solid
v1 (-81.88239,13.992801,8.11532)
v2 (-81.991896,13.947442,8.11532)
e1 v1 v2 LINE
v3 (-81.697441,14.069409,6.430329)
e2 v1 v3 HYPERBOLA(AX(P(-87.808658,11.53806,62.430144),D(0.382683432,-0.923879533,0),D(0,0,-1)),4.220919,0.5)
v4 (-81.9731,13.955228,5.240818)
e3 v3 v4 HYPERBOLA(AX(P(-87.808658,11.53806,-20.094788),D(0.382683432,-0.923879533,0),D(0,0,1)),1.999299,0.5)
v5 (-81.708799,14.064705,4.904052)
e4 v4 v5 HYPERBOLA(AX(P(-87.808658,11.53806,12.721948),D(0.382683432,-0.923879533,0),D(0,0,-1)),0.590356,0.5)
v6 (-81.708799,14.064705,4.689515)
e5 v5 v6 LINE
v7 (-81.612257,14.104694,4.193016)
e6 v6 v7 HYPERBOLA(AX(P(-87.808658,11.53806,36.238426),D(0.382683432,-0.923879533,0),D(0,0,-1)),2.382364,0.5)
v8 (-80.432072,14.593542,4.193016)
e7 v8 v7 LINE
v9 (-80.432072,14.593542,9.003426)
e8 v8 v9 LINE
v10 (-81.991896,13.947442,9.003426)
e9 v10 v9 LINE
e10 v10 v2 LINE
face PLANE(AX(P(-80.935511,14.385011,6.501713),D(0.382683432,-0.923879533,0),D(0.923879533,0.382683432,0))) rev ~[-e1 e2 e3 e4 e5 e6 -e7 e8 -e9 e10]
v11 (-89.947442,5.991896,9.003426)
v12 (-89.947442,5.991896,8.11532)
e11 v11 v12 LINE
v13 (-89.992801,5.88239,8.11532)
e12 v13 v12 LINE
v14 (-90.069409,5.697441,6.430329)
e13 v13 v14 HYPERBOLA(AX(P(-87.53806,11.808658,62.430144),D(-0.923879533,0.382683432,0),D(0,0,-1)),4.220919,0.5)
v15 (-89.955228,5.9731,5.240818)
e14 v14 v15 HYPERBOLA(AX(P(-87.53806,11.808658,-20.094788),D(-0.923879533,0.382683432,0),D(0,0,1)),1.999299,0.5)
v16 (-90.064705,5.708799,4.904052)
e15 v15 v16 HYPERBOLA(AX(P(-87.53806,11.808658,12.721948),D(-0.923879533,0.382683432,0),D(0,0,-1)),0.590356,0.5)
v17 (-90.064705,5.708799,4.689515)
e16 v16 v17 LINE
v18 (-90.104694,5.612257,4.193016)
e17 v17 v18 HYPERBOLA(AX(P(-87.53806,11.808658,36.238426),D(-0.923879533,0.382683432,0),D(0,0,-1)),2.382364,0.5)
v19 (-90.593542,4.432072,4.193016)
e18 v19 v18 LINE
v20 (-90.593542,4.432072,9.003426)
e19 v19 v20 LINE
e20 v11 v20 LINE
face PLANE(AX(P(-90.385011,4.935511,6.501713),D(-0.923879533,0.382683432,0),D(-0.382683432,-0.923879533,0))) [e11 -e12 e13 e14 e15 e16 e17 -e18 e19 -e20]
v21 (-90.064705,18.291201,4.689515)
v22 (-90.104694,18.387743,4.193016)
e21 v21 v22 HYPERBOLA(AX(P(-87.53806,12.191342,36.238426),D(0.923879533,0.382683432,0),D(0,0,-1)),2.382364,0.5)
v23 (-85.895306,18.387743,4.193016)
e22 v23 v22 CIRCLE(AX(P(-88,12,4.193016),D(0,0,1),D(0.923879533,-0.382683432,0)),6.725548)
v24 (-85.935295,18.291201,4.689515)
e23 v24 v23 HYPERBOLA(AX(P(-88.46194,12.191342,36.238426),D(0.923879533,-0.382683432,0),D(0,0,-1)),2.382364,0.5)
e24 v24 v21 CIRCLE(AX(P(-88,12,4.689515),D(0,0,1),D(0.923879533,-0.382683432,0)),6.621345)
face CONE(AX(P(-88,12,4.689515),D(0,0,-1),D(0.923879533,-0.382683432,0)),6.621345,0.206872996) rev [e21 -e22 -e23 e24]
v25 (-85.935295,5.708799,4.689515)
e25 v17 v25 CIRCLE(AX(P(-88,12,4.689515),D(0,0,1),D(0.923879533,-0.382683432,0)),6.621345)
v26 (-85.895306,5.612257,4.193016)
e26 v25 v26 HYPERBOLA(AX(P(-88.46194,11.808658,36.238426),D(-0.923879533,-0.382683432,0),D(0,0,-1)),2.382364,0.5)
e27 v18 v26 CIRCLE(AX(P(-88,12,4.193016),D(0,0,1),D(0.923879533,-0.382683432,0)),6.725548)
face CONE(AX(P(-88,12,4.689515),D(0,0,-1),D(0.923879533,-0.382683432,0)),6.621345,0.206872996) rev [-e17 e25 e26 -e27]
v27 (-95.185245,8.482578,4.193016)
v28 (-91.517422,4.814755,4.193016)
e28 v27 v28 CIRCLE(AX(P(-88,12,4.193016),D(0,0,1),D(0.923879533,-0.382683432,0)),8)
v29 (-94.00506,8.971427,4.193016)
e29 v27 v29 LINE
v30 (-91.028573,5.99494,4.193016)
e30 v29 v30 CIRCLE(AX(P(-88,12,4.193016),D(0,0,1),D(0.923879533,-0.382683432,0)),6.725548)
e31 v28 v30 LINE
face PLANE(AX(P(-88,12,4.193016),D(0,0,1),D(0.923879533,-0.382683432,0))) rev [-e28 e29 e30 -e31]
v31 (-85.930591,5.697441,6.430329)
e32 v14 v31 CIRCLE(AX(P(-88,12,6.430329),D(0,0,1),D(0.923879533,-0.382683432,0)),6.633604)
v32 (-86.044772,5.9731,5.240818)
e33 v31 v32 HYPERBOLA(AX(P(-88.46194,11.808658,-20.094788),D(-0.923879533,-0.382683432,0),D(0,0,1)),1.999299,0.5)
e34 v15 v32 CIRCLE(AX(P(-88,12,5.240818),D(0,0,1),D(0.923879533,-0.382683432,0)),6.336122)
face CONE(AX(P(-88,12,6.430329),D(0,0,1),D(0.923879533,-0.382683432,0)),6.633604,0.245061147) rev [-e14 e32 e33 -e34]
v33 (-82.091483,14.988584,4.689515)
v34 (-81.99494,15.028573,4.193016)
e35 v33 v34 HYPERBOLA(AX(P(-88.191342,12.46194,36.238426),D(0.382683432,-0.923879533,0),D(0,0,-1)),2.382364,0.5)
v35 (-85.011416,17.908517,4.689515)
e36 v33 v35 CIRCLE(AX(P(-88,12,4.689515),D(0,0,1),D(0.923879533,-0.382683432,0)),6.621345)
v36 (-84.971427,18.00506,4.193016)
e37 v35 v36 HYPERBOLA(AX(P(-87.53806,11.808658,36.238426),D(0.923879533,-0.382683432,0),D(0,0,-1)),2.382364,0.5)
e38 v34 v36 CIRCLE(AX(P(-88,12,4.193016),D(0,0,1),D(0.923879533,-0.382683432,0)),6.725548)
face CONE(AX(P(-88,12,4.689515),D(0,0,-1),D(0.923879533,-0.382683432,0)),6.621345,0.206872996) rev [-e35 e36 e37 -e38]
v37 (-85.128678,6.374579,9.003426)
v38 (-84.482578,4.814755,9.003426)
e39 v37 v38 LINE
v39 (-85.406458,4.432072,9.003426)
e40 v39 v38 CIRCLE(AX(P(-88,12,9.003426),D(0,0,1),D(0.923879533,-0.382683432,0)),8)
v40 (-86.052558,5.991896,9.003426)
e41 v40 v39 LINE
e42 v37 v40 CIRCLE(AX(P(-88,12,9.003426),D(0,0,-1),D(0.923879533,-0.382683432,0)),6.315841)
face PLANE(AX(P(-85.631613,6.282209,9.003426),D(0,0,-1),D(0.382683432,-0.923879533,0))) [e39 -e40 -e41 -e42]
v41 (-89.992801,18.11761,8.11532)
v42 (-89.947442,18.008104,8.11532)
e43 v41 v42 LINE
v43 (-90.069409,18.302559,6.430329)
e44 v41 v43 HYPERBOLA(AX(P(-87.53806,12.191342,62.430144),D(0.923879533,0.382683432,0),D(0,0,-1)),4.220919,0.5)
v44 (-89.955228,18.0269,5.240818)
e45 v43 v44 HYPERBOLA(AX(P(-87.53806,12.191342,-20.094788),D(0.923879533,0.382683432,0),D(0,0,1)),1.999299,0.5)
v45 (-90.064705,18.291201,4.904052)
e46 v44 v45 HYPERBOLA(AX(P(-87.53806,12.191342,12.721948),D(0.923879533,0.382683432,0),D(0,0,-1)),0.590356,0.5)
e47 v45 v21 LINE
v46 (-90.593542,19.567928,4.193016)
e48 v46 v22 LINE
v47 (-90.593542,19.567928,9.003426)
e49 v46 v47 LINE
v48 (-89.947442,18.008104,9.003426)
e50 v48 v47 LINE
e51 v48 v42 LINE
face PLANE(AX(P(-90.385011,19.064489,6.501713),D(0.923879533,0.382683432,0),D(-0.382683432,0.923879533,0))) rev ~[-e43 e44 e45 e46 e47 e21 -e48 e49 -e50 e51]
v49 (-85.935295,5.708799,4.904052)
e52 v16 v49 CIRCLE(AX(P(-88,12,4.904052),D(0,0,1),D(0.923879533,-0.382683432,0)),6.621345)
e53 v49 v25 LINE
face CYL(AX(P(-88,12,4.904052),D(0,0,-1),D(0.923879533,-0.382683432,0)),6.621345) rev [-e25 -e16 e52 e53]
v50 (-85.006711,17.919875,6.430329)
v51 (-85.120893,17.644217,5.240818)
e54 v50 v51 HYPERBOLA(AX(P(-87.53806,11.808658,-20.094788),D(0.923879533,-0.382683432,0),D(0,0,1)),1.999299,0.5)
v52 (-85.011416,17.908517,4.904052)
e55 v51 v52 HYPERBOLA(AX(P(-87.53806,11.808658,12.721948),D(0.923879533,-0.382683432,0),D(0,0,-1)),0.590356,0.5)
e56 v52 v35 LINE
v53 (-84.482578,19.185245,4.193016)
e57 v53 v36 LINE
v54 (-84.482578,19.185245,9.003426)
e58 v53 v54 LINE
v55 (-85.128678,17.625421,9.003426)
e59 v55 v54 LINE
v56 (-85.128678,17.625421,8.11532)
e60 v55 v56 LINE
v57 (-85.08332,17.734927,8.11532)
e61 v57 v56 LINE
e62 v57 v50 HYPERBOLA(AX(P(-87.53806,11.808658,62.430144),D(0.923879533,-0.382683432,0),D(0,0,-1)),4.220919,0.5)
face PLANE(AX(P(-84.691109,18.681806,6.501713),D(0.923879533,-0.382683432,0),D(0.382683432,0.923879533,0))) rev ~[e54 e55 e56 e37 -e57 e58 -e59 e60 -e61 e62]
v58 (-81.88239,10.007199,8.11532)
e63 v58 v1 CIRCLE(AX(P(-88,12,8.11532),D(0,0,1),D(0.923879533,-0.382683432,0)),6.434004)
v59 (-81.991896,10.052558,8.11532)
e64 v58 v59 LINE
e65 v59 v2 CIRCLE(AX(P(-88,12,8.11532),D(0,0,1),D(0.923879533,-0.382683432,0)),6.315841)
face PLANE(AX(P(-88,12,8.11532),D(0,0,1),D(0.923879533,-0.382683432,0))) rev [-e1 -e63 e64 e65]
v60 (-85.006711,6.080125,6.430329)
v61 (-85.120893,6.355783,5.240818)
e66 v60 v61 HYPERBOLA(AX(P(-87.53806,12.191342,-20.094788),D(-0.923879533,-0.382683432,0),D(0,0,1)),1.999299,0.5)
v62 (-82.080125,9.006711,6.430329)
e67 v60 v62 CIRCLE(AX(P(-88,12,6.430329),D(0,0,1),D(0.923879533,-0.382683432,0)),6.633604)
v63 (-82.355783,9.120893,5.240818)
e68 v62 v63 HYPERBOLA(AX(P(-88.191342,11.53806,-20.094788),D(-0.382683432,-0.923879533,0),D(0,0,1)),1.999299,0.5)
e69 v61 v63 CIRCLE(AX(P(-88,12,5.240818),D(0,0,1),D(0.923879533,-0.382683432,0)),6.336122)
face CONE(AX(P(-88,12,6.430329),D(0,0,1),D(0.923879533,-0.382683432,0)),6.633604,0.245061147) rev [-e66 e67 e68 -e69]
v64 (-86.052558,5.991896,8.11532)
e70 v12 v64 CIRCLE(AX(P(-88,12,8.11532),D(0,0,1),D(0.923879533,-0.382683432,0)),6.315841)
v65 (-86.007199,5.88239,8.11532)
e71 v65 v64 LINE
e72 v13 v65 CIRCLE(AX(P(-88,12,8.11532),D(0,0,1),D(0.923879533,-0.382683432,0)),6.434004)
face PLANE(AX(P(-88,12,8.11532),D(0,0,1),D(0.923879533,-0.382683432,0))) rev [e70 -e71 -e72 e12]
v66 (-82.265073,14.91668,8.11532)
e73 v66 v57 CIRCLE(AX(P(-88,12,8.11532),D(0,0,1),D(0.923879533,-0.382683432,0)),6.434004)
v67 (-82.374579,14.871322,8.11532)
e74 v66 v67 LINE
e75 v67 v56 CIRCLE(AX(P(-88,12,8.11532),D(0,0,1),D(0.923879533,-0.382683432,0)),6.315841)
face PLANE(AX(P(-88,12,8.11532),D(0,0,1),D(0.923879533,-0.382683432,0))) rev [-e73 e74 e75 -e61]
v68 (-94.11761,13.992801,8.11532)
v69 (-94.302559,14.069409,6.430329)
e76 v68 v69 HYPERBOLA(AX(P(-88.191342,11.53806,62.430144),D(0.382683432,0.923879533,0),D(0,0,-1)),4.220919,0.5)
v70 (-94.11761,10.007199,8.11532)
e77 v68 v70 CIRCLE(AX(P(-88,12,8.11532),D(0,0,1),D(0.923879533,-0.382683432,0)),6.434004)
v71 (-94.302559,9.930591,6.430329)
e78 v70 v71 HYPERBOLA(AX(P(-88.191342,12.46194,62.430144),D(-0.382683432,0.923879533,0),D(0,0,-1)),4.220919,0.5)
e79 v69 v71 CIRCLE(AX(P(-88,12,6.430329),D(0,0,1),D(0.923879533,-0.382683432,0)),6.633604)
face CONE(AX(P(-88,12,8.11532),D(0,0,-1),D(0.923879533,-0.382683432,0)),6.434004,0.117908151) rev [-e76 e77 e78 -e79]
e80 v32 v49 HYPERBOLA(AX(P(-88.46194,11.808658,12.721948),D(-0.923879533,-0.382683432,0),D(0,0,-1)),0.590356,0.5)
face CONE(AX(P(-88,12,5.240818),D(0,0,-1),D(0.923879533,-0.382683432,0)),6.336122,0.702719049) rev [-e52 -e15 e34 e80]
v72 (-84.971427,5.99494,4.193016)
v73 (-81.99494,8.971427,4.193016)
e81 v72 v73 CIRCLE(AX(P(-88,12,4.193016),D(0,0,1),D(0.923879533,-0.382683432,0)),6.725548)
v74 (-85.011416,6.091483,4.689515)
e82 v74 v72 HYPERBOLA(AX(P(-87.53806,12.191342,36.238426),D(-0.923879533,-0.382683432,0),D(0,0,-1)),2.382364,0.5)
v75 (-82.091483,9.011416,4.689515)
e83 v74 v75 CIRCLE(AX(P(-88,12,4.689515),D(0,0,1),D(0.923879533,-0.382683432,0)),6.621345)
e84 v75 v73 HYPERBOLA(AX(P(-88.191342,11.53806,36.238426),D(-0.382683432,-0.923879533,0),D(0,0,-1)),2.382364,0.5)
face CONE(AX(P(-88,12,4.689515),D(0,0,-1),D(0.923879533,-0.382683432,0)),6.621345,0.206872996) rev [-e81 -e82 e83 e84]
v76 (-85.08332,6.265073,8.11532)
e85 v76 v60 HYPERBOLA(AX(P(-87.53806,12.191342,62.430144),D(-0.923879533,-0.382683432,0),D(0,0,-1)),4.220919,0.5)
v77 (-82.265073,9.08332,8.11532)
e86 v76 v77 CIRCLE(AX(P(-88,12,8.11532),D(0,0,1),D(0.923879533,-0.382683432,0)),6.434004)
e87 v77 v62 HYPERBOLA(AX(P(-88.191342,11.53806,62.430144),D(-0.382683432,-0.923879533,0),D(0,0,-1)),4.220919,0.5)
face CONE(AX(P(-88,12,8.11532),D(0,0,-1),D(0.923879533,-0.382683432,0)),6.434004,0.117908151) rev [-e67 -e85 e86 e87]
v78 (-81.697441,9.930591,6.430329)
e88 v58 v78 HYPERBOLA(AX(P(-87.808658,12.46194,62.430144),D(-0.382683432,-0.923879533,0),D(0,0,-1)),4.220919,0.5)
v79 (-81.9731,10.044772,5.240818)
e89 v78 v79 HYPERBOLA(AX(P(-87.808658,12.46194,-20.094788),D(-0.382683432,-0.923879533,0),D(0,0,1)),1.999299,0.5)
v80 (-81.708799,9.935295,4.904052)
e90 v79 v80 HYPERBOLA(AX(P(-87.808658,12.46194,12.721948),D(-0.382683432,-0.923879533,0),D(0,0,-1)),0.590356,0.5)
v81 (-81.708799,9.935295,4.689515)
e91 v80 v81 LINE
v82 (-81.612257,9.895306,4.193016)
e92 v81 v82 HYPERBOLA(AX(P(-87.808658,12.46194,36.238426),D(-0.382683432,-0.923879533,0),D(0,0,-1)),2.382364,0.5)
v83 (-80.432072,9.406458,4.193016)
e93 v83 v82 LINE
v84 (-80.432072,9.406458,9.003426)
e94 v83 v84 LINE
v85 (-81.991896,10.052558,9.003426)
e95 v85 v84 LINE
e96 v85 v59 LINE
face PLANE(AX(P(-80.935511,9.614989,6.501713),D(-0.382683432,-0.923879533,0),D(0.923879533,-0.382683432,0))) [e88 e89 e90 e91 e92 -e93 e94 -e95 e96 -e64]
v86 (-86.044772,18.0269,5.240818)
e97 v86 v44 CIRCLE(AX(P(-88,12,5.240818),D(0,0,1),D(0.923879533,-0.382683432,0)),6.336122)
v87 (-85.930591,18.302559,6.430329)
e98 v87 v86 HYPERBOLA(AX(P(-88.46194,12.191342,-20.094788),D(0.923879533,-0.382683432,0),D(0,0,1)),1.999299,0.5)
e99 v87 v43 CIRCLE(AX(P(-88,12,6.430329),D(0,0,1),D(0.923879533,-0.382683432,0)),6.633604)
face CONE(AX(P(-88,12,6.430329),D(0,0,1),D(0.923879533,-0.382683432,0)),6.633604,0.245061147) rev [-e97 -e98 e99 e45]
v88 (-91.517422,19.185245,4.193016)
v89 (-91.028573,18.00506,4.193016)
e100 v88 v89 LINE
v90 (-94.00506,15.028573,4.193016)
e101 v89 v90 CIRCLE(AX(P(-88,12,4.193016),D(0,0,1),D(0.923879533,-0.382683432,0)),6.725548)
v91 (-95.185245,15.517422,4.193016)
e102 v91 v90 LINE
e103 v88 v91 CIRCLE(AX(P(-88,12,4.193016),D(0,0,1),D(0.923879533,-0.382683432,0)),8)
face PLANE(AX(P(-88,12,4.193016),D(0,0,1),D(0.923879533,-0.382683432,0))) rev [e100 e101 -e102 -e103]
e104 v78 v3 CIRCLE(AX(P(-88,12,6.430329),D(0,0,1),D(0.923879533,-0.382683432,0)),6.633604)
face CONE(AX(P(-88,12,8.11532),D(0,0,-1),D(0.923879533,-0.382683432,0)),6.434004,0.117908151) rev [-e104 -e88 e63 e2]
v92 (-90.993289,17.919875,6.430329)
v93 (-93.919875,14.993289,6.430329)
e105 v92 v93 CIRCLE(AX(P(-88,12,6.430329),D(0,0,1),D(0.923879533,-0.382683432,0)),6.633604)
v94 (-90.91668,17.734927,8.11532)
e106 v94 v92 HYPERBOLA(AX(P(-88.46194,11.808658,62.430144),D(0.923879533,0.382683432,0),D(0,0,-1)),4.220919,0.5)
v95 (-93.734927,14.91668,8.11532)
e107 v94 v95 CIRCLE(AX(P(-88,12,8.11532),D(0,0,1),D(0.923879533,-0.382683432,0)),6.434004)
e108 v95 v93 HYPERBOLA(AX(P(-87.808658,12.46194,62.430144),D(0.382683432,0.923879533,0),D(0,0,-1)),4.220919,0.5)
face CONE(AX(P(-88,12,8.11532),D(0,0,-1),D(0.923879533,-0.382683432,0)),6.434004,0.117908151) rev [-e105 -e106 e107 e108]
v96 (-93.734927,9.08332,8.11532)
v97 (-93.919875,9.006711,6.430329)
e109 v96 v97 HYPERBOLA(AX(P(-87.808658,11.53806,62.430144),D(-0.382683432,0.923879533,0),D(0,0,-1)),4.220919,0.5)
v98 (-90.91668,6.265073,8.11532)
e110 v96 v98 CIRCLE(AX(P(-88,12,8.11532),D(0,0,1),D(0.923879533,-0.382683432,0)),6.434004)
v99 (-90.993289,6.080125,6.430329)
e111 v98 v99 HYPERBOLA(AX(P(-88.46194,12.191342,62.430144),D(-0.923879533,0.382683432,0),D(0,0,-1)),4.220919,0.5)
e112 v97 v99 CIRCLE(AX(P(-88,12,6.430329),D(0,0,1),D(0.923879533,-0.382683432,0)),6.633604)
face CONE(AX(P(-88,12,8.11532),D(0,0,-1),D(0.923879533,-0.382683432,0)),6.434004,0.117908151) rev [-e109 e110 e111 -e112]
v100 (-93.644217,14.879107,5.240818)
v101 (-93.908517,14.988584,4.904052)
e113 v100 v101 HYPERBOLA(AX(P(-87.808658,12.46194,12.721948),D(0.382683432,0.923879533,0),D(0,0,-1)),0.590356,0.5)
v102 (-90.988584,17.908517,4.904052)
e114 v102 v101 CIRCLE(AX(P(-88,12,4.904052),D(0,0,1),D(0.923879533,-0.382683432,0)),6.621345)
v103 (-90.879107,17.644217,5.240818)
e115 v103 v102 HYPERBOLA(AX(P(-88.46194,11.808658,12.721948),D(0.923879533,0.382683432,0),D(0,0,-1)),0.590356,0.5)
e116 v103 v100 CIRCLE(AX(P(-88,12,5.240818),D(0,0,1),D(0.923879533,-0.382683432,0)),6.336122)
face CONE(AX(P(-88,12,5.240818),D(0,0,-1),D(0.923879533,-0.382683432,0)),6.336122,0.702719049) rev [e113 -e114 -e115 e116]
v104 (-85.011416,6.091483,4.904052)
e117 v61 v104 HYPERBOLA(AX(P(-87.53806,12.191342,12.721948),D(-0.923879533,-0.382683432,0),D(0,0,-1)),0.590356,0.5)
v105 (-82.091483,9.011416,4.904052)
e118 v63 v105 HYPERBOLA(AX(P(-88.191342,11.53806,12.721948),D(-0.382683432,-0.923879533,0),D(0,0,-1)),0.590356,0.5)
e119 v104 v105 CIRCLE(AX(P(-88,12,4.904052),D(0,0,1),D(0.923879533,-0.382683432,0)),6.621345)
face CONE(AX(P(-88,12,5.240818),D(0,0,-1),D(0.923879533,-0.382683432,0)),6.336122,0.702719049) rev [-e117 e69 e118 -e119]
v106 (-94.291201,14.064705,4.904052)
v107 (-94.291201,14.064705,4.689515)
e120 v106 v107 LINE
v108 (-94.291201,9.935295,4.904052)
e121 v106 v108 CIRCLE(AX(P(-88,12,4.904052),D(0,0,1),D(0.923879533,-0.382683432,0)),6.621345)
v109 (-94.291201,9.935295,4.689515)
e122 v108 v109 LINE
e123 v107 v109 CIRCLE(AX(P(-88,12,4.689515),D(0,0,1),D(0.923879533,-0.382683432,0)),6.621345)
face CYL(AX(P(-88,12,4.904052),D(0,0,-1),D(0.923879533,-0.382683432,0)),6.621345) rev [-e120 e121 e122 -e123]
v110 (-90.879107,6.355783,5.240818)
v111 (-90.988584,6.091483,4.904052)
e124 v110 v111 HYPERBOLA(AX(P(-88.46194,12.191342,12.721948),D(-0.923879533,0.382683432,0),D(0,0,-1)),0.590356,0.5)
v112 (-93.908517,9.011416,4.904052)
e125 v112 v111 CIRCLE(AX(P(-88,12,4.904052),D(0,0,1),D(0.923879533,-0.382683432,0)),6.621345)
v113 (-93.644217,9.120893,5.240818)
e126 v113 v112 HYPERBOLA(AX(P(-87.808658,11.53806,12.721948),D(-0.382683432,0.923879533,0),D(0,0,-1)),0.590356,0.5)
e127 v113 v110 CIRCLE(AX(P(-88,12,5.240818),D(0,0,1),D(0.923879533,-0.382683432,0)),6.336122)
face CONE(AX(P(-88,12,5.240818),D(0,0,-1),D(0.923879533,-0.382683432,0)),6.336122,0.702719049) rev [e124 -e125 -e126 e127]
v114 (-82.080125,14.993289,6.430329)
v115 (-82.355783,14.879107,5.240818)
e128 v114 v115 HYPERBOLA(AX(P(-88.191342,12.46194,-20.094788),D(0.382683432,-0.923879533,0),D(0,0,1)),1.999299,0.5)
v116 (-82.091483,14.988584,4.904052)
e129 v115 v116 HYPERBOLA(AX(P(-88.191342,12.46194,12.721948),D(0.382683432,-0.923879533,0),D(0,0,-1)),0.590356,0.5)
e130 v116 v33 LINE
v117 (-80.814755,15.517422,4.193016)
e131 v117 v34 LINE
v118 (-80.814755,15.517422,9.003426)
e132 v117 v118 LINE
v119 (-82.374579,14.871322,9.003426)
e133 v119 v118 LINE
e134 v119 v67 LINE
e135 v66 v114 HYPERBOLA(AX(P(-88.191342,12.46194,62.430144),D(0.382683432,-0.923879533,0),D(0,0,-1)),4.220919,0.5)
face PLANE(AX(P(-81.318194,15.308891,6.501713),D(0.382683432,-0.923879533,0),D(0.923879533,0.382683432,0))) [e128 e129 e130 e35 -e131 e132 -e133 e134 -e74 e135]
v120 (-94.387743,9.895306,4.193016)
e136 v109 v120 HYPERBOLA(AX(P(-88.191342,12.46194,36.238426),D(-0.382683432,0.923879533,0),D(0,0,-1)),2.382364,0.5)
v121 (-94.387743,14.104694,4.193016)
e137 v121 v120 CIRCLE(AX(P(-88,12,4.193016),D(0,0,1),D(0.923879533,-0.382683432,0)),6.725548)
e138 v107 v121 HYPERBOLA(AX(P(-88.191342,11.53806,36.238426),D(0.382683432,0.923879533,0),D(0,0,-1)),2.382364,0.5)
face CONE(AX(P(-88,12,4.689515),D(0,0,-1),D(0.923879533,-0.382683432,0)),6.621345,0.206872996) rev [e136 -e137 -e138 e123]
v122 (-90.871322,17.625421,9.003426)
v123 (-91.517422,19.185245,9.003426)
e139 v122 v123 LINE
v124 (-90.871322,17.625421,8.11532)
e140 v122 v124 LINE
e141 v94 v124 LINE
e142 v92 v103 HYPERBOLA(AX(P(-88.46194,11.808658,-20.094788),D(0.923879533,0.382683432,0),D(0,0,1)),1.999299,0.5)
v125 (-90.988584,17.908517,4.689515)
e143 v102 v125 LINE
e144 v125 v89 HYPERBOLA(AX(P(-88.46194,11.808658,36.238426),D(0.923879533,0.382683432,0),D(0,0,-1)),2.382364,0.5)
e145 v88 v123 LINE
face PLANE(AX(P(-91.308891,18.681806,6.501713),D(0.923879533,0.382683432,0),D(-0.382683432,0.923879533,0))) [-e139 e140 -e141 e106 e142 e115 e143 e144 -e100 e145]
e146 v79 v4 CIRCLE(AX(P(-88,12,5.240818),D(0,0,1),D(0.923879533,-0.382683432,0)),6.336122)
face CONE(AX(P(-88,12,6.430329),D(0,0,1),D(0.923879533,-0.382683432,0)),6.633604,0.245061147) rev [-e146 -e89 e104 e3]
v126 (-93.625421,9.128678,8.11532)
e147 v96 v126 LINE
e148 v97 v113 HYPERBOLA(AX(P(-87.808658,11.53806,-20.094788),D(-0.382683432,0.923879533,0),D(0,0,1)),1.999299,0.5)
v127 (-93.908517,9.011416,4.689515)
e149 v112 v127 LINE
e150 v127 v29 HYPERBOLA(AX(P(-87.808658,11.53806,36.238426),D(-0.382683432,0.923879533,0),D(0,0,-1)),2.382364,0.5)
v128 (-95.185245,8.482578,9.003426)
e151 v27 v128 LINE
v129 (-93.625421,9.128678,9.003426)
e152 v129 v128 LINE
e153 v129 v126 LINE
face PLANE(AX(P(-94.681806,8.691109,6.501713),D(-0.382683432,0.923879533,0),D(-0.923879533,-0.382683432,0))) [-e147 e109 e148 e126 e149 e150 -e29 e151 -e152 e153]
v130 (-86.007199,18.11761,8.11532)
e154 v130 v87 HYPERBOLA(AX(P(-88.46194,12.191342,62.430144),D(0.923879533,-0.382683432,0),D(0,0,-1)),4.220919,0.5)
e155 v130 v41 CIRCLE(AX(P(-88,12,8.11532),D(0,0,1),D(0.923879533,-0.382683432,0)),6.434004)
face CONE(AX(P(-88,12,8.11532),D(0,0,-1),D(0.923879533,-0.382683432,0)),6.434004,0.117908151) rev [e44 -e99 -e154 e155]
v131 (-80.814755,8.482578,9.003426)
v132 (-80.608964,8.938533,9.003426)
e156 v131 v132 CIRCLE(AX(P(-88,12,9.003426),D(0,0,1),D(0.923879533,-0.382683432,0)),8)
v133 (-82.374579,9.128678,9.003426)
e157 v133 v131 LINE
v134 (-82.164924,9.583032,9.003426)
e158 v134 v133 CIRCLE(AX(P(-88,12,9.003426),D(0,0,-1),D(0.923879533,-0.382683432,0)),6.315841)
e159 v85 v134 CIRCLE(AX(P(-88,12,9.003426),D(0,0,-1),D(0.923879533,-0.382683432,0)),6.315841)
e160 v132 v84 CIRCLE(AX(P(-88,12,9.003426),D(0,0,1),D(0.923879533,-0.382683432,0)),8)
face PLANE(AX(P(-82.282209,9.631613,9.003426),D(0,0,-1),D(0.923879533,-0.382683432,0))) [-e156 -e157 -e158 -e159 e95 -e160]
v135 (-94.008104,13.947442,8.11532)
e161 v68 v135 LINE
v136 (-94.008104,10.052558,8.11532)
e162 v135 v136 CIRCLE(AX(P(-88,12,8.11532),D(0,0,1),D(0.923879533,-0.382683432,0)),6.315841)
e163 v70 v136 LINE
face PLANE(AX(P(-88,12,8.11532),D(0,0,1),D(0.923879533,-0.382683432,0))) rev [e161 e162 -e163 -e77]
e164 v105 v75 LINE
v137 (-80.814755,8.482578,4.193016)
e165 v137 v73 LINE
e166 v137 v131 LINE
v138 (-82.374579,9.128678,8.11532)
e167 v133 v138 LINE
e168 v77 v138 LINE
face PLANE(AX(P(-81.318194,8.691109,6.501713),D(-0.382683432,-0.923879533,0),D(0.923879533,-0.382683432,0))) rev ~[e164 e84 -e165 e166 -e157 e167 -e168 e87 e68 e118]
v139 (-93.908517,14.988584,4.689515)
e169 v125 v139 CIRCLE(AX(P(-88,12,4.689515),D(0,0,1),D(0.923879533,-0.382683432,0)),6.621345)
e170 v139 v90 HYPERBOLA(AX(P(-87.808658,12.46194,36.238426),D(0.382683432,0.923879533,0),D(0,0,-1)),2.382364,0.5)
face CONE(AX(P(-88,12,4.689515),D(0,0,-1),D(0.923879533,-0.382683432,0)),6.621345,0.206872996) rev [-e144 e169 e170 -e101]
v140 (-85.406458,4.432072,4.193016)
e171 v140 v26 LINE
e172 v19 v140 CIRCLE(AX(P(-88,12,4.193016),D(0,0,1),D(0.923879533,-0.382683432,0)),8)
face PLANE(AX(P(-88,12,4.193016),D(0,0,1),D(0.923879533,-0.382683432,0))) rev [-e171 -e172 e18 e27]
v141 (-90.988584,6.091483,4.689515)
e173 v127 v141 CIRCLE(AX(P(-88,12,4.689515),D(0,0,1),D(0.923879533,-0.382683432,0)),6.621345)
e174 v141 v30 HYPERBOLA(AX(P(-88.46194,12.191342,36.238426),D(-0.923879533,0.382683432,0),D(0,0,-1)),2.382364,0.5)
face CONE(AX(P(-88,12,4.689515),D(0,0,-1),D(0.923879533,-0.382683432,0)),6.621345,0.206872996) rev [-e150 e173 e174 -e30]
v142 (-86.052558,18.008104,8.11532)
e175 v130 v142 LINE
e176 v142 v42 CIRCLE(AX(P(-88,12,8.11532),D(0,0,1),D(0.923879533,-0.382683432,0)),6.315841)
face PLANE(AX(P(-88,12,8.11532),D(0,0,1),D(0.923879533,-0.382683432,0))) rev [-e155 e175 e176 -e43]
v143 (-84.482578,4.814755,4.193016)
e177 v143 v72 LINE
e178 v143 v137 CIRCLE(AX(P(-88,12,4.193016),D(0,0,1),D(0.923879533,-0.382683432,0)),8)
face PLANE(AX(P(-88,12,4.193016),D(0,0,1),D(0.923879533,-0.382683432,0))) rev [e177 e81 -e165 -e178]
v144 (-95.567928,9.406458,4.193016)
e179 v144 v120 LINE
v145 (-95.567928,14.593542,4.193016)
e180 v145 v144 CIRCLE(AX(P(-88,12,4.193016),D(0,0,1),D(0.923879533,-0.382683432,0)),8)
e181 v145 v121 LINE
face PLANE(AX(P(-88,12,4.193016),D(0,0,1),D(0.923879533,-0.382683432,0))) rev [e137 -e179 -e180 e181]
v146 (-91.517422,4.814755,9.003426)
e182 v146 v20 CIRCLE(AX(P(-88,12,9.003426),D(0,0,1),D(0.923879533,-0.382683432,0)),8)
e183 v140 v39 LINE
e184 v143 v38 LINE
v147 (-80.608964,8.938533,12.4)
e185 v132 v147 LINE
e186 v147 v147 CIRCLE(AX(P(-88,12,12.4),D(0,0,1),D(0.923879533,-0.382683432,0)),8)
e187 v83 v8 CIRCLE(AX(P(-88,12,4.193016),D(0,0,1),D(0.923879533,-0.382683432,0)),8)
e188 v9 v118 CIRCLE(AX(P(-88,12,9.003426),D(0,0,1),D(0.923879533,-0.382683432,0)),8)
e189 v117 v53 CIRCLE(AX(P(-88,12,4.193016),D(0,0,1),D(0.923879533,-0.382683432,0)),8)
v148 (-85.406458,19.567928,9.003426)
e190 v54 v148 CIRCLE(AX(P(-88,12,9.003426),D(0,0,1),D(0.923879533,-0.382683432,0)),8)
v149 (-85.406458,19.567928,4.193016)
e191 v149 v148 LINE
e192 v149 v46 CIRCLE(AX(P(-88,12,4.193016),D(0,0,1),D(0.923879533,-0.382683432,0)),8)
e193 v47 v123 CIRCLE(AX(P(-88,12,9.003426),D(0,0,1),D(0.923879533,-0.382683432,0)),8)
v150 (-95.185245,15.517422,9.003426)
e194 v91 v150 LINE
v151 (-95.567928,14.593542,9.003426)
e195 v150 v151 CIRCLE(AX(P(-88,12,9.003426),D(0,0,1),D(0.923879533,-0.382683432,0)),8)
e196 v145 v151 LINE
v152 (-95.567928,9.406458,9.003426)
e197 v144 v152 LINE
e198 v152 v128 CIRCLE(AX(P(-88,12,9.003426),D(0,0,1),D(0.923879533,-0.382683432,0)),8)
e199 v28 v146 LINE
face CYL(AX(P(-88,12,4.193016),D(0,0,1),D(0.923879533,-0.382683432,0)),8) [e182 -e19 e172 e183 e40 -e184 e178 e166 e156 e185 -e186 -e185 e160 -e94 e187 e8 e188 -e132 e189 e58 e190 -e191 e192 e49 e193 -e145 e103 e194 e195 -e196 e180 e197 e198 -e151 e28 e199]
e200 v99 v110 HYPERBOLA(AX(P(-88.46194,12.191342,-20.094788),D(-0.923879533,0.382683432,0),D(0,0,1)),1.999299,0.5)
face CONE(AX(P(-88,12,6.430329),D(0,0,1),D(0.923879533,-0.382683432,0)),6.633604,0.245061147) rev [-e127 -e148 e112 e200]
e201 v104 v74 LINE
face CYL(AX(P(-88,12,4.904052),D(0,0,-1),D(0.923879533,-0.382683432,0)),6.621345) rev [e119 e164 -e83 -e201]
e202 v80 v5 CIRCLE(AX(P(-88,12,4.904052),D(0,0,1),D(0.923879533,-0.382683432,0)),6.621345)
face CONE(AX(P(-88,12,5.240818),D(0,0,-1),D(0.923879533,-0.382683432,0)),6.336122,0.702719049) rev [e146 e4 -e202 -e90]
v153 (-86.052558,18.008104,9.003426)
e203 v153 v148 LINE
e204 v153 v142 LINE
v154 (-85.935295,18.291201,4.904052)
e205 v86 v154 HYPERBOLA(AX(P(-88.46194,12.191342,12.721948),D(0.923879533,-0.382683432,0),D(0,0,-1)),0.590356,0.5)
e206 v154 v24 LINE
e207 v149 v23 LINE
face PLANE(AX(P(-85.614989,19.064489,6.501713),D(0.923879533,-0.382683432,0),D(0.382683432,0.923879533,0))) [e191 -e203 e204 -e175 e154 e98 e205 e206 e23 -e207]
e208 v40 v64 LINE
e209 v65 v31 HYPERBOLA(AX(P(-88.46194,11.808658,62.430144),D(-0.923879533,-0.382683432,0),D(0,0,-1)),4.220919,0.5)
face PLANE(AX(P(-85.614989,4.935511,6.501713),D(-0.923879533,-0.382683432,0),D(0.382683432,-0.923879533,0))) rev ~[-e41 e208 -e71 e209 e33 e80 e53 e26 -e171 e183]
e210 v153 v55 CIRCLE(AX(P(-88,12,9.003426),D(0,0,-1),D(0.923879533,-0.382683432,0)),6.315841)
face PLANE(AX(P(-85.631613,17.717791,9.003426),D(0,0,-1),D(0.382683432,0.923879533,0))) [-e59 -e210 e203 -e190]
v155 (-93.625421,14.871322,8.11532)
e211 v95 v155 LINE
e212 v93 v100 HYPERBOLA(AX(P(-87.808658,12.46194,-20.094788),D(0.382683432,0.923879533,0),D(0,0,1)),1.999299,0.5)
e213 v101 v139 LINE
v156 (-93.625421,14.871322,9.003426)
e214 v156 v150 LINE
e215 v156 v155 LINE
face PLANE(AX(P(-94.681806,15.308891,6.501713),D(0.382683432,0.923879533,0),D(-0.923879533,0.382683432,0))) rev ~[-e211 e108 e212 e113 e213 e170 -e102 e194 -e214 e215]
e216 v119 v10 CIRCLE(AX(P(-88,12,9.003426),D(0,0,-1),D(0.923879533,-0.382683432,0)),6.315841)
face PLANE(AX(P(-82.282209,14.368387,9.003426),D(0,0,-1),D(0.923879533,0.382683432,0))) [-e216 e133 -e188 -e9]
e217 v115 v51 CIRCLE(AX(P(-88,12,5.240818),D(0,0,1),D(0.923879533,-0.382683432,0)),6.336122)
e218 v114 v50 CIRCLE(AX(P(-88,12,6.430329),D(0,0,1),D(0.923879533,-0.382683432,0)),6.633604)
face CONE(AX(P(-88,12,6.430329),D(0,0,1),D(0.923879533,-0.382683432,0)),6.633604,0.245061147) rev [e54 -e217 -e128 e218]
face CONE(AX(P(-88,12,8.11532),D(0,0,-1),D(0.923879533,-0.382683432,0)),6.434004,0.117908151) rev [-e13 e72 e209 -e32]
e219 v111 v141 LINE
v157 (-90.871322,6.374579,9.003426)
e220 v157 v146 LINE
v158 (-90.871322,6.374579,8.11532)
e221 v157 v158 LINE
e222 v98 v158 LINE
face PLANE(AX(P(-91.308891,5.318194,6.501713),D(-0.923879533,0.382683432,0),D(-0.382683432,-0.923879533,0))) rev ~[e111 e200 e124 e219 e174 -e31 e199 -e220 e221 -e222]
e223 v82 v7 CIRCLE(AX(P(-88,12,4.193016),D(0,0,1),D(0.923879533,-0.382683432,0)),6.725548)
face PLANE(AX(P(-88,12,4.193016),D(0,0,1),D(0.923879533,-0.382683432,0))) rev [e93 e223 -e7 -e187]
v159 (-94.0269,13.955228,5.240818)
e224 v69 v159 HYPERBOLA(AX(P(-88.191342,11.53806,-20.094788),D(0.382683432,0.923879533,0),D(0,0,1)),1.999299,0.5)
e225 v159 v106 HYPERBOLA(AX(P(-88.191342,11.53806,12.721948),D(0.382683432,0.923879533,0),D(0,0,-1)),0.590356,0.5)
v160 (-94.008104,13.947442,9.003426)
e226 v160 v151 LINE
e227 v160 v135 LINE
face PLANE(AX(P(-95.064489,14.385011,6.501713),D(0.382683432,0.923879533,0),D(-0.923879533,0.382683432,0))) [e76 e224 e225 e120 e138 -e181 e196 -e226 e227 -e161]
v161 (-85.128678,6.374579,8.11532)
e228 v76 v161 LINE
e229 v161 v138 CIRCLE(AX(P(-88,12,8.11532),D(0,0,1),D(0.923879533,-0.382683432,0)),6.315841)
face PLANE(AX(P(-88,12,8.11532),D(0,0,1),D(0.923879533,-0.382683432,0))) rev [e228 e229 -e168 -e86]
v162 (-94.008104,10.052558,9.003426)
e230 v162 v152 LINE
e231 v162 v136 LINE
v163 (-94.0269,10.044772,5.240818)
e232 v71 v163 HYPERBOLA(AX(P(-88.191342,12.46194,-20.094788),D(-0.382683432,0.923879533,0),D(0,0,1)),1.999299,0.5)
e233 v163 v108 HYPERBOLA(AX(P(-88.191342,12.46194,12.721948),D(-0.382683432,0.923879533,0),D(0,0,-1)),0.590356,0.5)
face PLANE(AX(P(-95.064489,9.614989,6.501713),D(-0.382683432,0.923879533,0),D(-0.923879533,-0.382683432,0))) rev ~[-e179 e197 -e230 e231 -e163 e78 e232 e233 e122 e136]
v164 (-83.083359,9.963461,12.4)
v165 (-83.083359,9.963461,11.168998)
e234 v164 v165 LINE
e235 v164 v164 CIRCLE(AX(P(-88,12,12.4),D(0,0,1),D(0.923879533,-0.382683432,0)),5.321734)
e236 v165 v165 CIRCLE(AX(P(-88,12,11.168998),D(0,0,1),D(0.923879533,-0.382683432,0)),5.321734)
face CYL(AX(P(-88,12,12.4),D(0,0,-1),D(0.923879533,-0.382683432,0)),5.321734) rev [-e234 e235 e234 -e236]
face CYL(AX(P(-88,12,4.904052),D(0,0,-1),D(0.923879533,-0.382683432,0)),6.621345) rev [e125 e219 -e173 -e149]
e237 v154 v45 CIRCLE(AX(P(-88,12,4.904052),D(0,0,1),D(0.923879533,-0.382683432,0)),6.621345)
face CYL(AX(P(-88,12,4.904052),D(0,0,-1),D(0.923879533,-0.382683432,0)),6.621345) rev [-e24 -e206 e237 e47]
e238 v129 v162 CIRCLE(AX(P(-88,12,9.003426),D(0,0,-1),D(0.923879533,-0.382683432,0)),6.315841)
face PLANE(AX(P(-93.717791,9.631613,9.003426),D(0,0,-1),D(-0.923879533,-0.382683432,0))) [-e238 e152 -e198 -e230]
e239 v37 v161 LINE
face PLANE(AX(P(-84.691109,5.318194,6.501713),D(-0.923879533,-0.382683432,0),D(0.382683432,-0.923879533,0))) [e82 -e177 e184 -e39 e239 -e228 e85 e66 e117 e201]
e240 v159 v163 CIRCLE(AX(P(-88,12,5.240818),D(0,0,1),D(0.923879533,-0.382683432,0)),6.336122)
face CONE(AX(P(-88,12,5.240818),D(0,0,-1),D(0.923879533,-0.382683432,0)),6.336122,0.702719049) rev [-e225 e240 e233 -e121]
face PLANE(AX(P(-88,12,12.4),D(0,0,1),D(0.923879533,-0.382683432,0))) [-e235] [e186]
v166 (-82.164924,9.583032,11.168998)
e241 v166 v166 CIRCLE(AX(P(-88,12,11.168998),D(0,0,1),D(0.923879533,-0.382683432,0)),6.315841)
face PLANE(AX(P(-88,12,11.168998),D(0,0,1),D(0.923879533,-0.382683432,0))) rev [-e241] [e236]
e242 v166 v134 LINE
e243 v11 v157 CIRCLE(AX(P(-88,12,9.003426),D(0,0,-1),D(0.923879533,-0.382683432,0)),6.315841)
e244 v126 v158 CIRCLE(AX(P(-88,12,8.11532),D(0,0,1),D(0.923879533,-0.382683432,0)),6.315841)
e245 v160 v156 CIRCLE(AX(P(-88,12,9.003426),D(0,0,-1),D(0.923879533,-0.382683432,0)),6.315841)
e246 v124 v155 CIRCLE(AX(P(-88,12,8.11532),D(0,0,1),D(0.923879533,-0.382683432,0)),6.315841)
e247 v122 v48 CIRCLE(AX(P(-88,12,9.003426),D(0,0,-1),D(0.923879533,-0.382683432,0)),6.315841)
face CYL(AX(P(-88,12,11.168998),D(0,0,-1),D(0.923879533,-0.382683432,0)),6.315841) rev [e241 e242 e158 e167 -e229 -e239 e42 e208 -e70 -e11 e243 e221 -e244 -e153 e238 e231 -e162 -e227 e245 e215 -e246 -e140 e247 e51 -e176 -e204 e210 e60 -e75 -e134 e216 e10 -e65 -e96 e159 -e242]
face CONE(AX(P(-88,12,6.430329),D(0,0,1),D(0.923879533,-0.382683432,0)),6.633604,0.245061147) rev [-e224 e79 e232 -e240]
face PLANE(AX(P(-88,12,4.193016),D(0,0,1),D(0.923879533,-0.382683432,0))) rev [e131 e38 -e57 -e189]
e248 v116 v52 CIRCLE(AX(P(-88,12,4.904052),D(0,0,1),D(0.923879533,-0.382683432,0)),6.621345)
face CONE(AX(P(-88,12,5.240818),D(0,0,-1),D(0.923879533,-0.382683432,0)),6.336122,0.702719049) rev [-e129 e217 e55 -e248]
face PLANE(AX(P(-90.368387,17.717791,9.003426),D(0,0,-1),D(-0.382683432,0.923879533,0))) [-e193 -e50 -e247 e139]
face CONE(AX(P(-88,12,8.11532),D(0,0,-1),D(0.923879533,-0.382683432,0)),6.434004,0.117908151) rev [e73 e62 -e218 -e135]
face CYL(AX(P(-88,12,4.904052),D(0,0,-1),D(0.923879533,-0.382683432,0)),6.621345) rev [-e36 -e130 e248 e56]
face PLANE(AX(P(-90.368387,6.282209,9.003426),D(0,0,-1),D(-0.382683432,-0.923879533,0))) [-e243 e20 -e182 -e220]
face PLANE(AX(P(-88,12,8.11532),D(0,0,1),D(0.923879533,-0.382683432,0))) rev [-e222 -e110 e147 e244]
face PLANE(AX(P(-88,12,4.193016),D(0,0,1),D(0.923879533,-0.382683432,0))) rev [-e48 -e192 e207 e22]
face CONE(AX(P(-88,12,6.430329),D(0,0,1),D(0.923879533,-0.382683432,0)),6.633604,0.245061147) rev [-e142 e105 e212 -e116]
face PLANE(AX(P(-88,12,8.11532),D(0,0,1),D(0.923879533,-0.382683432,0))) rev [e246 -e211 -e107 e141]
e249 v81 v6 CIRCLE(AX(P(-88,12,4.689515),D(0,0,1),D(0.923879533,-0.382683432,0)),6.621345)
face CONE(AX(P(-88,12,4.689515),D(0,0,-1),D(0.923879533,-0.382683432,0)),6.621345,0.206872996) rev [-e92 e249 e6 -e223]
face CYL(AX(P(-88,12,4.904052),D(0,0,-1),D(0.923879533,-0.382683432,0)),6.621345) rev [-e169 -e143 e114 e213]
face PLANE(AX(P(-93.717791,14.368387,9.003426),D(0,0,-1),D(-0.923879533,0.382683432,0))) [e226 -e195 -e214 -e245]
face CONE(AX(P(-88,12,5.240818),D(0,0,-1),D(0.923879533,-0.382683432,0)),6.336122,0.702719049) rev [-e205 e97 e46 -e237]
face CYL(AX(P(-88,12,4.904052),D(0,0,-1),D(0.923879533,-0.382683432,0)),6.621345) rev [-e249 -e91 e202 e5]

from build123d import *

# Parameters (mm, degrees)
SKETCH073_W             = 2.501097
SKETCH073_H             = 5.003426
POCKET017_DEPTH         = 0.5
POLARPATTERN_COUNT      = 8
BODY016_PLACEMENT_ANGLE = 22.5


with BuildPart() as part:
    # Sketch072 → Revolution005 (revolve)
    with BuildSketch(Plane.XZ):
        Polygon((5.321734, 8.4), (5.321734, 7.168998), (6.315841, 7.168998), (6.315841, 4.11532), (6.434004, 4.11532), (6.633604, 2.430329), (6.336122, 1.240818), (6.621345, 0.904052), (6.621345, 0.689515), (6.725548, 0.193016), (8, 0.193016), (8, 8.4), align=None)
    revolve(axis=Axis((0, 0, 0), (0, 0, 1)))

    # Sketch073 → Pocket017 (cut, symmetric)
    with BuildSketch(Plane.XZ):
        with Locations((7.439441, 2.501713)):
            Rectangle(SKETCH073_W, SKETCH073_H)
    pocket017 = extrude(amount=POCKET017_DEPTH, both=True, mode=Mode.SUBTRACT)

    # PolarPattern: Pocket017 ×8 about axis
    polarpattern_axis = Axis((0, 0, 0), (0, 0, 1))
    for i in range(1, POLARPATTERN_COUNT):
        add(pocket017.rotate(polarpattern_axis, i * 360 / POLARPATTERN_COUNT), mode=Mode.SUBTRACT)


with BuildPart() as part_1:
    # Body016 placement: moved
    add(part.part.moved(Location((-88, 12, 4))).rotate(Axis((-88, 12, 4), (0, 0, -1)), BODY016_PLACEMENT_ANGLE))


solid = part_1.part
